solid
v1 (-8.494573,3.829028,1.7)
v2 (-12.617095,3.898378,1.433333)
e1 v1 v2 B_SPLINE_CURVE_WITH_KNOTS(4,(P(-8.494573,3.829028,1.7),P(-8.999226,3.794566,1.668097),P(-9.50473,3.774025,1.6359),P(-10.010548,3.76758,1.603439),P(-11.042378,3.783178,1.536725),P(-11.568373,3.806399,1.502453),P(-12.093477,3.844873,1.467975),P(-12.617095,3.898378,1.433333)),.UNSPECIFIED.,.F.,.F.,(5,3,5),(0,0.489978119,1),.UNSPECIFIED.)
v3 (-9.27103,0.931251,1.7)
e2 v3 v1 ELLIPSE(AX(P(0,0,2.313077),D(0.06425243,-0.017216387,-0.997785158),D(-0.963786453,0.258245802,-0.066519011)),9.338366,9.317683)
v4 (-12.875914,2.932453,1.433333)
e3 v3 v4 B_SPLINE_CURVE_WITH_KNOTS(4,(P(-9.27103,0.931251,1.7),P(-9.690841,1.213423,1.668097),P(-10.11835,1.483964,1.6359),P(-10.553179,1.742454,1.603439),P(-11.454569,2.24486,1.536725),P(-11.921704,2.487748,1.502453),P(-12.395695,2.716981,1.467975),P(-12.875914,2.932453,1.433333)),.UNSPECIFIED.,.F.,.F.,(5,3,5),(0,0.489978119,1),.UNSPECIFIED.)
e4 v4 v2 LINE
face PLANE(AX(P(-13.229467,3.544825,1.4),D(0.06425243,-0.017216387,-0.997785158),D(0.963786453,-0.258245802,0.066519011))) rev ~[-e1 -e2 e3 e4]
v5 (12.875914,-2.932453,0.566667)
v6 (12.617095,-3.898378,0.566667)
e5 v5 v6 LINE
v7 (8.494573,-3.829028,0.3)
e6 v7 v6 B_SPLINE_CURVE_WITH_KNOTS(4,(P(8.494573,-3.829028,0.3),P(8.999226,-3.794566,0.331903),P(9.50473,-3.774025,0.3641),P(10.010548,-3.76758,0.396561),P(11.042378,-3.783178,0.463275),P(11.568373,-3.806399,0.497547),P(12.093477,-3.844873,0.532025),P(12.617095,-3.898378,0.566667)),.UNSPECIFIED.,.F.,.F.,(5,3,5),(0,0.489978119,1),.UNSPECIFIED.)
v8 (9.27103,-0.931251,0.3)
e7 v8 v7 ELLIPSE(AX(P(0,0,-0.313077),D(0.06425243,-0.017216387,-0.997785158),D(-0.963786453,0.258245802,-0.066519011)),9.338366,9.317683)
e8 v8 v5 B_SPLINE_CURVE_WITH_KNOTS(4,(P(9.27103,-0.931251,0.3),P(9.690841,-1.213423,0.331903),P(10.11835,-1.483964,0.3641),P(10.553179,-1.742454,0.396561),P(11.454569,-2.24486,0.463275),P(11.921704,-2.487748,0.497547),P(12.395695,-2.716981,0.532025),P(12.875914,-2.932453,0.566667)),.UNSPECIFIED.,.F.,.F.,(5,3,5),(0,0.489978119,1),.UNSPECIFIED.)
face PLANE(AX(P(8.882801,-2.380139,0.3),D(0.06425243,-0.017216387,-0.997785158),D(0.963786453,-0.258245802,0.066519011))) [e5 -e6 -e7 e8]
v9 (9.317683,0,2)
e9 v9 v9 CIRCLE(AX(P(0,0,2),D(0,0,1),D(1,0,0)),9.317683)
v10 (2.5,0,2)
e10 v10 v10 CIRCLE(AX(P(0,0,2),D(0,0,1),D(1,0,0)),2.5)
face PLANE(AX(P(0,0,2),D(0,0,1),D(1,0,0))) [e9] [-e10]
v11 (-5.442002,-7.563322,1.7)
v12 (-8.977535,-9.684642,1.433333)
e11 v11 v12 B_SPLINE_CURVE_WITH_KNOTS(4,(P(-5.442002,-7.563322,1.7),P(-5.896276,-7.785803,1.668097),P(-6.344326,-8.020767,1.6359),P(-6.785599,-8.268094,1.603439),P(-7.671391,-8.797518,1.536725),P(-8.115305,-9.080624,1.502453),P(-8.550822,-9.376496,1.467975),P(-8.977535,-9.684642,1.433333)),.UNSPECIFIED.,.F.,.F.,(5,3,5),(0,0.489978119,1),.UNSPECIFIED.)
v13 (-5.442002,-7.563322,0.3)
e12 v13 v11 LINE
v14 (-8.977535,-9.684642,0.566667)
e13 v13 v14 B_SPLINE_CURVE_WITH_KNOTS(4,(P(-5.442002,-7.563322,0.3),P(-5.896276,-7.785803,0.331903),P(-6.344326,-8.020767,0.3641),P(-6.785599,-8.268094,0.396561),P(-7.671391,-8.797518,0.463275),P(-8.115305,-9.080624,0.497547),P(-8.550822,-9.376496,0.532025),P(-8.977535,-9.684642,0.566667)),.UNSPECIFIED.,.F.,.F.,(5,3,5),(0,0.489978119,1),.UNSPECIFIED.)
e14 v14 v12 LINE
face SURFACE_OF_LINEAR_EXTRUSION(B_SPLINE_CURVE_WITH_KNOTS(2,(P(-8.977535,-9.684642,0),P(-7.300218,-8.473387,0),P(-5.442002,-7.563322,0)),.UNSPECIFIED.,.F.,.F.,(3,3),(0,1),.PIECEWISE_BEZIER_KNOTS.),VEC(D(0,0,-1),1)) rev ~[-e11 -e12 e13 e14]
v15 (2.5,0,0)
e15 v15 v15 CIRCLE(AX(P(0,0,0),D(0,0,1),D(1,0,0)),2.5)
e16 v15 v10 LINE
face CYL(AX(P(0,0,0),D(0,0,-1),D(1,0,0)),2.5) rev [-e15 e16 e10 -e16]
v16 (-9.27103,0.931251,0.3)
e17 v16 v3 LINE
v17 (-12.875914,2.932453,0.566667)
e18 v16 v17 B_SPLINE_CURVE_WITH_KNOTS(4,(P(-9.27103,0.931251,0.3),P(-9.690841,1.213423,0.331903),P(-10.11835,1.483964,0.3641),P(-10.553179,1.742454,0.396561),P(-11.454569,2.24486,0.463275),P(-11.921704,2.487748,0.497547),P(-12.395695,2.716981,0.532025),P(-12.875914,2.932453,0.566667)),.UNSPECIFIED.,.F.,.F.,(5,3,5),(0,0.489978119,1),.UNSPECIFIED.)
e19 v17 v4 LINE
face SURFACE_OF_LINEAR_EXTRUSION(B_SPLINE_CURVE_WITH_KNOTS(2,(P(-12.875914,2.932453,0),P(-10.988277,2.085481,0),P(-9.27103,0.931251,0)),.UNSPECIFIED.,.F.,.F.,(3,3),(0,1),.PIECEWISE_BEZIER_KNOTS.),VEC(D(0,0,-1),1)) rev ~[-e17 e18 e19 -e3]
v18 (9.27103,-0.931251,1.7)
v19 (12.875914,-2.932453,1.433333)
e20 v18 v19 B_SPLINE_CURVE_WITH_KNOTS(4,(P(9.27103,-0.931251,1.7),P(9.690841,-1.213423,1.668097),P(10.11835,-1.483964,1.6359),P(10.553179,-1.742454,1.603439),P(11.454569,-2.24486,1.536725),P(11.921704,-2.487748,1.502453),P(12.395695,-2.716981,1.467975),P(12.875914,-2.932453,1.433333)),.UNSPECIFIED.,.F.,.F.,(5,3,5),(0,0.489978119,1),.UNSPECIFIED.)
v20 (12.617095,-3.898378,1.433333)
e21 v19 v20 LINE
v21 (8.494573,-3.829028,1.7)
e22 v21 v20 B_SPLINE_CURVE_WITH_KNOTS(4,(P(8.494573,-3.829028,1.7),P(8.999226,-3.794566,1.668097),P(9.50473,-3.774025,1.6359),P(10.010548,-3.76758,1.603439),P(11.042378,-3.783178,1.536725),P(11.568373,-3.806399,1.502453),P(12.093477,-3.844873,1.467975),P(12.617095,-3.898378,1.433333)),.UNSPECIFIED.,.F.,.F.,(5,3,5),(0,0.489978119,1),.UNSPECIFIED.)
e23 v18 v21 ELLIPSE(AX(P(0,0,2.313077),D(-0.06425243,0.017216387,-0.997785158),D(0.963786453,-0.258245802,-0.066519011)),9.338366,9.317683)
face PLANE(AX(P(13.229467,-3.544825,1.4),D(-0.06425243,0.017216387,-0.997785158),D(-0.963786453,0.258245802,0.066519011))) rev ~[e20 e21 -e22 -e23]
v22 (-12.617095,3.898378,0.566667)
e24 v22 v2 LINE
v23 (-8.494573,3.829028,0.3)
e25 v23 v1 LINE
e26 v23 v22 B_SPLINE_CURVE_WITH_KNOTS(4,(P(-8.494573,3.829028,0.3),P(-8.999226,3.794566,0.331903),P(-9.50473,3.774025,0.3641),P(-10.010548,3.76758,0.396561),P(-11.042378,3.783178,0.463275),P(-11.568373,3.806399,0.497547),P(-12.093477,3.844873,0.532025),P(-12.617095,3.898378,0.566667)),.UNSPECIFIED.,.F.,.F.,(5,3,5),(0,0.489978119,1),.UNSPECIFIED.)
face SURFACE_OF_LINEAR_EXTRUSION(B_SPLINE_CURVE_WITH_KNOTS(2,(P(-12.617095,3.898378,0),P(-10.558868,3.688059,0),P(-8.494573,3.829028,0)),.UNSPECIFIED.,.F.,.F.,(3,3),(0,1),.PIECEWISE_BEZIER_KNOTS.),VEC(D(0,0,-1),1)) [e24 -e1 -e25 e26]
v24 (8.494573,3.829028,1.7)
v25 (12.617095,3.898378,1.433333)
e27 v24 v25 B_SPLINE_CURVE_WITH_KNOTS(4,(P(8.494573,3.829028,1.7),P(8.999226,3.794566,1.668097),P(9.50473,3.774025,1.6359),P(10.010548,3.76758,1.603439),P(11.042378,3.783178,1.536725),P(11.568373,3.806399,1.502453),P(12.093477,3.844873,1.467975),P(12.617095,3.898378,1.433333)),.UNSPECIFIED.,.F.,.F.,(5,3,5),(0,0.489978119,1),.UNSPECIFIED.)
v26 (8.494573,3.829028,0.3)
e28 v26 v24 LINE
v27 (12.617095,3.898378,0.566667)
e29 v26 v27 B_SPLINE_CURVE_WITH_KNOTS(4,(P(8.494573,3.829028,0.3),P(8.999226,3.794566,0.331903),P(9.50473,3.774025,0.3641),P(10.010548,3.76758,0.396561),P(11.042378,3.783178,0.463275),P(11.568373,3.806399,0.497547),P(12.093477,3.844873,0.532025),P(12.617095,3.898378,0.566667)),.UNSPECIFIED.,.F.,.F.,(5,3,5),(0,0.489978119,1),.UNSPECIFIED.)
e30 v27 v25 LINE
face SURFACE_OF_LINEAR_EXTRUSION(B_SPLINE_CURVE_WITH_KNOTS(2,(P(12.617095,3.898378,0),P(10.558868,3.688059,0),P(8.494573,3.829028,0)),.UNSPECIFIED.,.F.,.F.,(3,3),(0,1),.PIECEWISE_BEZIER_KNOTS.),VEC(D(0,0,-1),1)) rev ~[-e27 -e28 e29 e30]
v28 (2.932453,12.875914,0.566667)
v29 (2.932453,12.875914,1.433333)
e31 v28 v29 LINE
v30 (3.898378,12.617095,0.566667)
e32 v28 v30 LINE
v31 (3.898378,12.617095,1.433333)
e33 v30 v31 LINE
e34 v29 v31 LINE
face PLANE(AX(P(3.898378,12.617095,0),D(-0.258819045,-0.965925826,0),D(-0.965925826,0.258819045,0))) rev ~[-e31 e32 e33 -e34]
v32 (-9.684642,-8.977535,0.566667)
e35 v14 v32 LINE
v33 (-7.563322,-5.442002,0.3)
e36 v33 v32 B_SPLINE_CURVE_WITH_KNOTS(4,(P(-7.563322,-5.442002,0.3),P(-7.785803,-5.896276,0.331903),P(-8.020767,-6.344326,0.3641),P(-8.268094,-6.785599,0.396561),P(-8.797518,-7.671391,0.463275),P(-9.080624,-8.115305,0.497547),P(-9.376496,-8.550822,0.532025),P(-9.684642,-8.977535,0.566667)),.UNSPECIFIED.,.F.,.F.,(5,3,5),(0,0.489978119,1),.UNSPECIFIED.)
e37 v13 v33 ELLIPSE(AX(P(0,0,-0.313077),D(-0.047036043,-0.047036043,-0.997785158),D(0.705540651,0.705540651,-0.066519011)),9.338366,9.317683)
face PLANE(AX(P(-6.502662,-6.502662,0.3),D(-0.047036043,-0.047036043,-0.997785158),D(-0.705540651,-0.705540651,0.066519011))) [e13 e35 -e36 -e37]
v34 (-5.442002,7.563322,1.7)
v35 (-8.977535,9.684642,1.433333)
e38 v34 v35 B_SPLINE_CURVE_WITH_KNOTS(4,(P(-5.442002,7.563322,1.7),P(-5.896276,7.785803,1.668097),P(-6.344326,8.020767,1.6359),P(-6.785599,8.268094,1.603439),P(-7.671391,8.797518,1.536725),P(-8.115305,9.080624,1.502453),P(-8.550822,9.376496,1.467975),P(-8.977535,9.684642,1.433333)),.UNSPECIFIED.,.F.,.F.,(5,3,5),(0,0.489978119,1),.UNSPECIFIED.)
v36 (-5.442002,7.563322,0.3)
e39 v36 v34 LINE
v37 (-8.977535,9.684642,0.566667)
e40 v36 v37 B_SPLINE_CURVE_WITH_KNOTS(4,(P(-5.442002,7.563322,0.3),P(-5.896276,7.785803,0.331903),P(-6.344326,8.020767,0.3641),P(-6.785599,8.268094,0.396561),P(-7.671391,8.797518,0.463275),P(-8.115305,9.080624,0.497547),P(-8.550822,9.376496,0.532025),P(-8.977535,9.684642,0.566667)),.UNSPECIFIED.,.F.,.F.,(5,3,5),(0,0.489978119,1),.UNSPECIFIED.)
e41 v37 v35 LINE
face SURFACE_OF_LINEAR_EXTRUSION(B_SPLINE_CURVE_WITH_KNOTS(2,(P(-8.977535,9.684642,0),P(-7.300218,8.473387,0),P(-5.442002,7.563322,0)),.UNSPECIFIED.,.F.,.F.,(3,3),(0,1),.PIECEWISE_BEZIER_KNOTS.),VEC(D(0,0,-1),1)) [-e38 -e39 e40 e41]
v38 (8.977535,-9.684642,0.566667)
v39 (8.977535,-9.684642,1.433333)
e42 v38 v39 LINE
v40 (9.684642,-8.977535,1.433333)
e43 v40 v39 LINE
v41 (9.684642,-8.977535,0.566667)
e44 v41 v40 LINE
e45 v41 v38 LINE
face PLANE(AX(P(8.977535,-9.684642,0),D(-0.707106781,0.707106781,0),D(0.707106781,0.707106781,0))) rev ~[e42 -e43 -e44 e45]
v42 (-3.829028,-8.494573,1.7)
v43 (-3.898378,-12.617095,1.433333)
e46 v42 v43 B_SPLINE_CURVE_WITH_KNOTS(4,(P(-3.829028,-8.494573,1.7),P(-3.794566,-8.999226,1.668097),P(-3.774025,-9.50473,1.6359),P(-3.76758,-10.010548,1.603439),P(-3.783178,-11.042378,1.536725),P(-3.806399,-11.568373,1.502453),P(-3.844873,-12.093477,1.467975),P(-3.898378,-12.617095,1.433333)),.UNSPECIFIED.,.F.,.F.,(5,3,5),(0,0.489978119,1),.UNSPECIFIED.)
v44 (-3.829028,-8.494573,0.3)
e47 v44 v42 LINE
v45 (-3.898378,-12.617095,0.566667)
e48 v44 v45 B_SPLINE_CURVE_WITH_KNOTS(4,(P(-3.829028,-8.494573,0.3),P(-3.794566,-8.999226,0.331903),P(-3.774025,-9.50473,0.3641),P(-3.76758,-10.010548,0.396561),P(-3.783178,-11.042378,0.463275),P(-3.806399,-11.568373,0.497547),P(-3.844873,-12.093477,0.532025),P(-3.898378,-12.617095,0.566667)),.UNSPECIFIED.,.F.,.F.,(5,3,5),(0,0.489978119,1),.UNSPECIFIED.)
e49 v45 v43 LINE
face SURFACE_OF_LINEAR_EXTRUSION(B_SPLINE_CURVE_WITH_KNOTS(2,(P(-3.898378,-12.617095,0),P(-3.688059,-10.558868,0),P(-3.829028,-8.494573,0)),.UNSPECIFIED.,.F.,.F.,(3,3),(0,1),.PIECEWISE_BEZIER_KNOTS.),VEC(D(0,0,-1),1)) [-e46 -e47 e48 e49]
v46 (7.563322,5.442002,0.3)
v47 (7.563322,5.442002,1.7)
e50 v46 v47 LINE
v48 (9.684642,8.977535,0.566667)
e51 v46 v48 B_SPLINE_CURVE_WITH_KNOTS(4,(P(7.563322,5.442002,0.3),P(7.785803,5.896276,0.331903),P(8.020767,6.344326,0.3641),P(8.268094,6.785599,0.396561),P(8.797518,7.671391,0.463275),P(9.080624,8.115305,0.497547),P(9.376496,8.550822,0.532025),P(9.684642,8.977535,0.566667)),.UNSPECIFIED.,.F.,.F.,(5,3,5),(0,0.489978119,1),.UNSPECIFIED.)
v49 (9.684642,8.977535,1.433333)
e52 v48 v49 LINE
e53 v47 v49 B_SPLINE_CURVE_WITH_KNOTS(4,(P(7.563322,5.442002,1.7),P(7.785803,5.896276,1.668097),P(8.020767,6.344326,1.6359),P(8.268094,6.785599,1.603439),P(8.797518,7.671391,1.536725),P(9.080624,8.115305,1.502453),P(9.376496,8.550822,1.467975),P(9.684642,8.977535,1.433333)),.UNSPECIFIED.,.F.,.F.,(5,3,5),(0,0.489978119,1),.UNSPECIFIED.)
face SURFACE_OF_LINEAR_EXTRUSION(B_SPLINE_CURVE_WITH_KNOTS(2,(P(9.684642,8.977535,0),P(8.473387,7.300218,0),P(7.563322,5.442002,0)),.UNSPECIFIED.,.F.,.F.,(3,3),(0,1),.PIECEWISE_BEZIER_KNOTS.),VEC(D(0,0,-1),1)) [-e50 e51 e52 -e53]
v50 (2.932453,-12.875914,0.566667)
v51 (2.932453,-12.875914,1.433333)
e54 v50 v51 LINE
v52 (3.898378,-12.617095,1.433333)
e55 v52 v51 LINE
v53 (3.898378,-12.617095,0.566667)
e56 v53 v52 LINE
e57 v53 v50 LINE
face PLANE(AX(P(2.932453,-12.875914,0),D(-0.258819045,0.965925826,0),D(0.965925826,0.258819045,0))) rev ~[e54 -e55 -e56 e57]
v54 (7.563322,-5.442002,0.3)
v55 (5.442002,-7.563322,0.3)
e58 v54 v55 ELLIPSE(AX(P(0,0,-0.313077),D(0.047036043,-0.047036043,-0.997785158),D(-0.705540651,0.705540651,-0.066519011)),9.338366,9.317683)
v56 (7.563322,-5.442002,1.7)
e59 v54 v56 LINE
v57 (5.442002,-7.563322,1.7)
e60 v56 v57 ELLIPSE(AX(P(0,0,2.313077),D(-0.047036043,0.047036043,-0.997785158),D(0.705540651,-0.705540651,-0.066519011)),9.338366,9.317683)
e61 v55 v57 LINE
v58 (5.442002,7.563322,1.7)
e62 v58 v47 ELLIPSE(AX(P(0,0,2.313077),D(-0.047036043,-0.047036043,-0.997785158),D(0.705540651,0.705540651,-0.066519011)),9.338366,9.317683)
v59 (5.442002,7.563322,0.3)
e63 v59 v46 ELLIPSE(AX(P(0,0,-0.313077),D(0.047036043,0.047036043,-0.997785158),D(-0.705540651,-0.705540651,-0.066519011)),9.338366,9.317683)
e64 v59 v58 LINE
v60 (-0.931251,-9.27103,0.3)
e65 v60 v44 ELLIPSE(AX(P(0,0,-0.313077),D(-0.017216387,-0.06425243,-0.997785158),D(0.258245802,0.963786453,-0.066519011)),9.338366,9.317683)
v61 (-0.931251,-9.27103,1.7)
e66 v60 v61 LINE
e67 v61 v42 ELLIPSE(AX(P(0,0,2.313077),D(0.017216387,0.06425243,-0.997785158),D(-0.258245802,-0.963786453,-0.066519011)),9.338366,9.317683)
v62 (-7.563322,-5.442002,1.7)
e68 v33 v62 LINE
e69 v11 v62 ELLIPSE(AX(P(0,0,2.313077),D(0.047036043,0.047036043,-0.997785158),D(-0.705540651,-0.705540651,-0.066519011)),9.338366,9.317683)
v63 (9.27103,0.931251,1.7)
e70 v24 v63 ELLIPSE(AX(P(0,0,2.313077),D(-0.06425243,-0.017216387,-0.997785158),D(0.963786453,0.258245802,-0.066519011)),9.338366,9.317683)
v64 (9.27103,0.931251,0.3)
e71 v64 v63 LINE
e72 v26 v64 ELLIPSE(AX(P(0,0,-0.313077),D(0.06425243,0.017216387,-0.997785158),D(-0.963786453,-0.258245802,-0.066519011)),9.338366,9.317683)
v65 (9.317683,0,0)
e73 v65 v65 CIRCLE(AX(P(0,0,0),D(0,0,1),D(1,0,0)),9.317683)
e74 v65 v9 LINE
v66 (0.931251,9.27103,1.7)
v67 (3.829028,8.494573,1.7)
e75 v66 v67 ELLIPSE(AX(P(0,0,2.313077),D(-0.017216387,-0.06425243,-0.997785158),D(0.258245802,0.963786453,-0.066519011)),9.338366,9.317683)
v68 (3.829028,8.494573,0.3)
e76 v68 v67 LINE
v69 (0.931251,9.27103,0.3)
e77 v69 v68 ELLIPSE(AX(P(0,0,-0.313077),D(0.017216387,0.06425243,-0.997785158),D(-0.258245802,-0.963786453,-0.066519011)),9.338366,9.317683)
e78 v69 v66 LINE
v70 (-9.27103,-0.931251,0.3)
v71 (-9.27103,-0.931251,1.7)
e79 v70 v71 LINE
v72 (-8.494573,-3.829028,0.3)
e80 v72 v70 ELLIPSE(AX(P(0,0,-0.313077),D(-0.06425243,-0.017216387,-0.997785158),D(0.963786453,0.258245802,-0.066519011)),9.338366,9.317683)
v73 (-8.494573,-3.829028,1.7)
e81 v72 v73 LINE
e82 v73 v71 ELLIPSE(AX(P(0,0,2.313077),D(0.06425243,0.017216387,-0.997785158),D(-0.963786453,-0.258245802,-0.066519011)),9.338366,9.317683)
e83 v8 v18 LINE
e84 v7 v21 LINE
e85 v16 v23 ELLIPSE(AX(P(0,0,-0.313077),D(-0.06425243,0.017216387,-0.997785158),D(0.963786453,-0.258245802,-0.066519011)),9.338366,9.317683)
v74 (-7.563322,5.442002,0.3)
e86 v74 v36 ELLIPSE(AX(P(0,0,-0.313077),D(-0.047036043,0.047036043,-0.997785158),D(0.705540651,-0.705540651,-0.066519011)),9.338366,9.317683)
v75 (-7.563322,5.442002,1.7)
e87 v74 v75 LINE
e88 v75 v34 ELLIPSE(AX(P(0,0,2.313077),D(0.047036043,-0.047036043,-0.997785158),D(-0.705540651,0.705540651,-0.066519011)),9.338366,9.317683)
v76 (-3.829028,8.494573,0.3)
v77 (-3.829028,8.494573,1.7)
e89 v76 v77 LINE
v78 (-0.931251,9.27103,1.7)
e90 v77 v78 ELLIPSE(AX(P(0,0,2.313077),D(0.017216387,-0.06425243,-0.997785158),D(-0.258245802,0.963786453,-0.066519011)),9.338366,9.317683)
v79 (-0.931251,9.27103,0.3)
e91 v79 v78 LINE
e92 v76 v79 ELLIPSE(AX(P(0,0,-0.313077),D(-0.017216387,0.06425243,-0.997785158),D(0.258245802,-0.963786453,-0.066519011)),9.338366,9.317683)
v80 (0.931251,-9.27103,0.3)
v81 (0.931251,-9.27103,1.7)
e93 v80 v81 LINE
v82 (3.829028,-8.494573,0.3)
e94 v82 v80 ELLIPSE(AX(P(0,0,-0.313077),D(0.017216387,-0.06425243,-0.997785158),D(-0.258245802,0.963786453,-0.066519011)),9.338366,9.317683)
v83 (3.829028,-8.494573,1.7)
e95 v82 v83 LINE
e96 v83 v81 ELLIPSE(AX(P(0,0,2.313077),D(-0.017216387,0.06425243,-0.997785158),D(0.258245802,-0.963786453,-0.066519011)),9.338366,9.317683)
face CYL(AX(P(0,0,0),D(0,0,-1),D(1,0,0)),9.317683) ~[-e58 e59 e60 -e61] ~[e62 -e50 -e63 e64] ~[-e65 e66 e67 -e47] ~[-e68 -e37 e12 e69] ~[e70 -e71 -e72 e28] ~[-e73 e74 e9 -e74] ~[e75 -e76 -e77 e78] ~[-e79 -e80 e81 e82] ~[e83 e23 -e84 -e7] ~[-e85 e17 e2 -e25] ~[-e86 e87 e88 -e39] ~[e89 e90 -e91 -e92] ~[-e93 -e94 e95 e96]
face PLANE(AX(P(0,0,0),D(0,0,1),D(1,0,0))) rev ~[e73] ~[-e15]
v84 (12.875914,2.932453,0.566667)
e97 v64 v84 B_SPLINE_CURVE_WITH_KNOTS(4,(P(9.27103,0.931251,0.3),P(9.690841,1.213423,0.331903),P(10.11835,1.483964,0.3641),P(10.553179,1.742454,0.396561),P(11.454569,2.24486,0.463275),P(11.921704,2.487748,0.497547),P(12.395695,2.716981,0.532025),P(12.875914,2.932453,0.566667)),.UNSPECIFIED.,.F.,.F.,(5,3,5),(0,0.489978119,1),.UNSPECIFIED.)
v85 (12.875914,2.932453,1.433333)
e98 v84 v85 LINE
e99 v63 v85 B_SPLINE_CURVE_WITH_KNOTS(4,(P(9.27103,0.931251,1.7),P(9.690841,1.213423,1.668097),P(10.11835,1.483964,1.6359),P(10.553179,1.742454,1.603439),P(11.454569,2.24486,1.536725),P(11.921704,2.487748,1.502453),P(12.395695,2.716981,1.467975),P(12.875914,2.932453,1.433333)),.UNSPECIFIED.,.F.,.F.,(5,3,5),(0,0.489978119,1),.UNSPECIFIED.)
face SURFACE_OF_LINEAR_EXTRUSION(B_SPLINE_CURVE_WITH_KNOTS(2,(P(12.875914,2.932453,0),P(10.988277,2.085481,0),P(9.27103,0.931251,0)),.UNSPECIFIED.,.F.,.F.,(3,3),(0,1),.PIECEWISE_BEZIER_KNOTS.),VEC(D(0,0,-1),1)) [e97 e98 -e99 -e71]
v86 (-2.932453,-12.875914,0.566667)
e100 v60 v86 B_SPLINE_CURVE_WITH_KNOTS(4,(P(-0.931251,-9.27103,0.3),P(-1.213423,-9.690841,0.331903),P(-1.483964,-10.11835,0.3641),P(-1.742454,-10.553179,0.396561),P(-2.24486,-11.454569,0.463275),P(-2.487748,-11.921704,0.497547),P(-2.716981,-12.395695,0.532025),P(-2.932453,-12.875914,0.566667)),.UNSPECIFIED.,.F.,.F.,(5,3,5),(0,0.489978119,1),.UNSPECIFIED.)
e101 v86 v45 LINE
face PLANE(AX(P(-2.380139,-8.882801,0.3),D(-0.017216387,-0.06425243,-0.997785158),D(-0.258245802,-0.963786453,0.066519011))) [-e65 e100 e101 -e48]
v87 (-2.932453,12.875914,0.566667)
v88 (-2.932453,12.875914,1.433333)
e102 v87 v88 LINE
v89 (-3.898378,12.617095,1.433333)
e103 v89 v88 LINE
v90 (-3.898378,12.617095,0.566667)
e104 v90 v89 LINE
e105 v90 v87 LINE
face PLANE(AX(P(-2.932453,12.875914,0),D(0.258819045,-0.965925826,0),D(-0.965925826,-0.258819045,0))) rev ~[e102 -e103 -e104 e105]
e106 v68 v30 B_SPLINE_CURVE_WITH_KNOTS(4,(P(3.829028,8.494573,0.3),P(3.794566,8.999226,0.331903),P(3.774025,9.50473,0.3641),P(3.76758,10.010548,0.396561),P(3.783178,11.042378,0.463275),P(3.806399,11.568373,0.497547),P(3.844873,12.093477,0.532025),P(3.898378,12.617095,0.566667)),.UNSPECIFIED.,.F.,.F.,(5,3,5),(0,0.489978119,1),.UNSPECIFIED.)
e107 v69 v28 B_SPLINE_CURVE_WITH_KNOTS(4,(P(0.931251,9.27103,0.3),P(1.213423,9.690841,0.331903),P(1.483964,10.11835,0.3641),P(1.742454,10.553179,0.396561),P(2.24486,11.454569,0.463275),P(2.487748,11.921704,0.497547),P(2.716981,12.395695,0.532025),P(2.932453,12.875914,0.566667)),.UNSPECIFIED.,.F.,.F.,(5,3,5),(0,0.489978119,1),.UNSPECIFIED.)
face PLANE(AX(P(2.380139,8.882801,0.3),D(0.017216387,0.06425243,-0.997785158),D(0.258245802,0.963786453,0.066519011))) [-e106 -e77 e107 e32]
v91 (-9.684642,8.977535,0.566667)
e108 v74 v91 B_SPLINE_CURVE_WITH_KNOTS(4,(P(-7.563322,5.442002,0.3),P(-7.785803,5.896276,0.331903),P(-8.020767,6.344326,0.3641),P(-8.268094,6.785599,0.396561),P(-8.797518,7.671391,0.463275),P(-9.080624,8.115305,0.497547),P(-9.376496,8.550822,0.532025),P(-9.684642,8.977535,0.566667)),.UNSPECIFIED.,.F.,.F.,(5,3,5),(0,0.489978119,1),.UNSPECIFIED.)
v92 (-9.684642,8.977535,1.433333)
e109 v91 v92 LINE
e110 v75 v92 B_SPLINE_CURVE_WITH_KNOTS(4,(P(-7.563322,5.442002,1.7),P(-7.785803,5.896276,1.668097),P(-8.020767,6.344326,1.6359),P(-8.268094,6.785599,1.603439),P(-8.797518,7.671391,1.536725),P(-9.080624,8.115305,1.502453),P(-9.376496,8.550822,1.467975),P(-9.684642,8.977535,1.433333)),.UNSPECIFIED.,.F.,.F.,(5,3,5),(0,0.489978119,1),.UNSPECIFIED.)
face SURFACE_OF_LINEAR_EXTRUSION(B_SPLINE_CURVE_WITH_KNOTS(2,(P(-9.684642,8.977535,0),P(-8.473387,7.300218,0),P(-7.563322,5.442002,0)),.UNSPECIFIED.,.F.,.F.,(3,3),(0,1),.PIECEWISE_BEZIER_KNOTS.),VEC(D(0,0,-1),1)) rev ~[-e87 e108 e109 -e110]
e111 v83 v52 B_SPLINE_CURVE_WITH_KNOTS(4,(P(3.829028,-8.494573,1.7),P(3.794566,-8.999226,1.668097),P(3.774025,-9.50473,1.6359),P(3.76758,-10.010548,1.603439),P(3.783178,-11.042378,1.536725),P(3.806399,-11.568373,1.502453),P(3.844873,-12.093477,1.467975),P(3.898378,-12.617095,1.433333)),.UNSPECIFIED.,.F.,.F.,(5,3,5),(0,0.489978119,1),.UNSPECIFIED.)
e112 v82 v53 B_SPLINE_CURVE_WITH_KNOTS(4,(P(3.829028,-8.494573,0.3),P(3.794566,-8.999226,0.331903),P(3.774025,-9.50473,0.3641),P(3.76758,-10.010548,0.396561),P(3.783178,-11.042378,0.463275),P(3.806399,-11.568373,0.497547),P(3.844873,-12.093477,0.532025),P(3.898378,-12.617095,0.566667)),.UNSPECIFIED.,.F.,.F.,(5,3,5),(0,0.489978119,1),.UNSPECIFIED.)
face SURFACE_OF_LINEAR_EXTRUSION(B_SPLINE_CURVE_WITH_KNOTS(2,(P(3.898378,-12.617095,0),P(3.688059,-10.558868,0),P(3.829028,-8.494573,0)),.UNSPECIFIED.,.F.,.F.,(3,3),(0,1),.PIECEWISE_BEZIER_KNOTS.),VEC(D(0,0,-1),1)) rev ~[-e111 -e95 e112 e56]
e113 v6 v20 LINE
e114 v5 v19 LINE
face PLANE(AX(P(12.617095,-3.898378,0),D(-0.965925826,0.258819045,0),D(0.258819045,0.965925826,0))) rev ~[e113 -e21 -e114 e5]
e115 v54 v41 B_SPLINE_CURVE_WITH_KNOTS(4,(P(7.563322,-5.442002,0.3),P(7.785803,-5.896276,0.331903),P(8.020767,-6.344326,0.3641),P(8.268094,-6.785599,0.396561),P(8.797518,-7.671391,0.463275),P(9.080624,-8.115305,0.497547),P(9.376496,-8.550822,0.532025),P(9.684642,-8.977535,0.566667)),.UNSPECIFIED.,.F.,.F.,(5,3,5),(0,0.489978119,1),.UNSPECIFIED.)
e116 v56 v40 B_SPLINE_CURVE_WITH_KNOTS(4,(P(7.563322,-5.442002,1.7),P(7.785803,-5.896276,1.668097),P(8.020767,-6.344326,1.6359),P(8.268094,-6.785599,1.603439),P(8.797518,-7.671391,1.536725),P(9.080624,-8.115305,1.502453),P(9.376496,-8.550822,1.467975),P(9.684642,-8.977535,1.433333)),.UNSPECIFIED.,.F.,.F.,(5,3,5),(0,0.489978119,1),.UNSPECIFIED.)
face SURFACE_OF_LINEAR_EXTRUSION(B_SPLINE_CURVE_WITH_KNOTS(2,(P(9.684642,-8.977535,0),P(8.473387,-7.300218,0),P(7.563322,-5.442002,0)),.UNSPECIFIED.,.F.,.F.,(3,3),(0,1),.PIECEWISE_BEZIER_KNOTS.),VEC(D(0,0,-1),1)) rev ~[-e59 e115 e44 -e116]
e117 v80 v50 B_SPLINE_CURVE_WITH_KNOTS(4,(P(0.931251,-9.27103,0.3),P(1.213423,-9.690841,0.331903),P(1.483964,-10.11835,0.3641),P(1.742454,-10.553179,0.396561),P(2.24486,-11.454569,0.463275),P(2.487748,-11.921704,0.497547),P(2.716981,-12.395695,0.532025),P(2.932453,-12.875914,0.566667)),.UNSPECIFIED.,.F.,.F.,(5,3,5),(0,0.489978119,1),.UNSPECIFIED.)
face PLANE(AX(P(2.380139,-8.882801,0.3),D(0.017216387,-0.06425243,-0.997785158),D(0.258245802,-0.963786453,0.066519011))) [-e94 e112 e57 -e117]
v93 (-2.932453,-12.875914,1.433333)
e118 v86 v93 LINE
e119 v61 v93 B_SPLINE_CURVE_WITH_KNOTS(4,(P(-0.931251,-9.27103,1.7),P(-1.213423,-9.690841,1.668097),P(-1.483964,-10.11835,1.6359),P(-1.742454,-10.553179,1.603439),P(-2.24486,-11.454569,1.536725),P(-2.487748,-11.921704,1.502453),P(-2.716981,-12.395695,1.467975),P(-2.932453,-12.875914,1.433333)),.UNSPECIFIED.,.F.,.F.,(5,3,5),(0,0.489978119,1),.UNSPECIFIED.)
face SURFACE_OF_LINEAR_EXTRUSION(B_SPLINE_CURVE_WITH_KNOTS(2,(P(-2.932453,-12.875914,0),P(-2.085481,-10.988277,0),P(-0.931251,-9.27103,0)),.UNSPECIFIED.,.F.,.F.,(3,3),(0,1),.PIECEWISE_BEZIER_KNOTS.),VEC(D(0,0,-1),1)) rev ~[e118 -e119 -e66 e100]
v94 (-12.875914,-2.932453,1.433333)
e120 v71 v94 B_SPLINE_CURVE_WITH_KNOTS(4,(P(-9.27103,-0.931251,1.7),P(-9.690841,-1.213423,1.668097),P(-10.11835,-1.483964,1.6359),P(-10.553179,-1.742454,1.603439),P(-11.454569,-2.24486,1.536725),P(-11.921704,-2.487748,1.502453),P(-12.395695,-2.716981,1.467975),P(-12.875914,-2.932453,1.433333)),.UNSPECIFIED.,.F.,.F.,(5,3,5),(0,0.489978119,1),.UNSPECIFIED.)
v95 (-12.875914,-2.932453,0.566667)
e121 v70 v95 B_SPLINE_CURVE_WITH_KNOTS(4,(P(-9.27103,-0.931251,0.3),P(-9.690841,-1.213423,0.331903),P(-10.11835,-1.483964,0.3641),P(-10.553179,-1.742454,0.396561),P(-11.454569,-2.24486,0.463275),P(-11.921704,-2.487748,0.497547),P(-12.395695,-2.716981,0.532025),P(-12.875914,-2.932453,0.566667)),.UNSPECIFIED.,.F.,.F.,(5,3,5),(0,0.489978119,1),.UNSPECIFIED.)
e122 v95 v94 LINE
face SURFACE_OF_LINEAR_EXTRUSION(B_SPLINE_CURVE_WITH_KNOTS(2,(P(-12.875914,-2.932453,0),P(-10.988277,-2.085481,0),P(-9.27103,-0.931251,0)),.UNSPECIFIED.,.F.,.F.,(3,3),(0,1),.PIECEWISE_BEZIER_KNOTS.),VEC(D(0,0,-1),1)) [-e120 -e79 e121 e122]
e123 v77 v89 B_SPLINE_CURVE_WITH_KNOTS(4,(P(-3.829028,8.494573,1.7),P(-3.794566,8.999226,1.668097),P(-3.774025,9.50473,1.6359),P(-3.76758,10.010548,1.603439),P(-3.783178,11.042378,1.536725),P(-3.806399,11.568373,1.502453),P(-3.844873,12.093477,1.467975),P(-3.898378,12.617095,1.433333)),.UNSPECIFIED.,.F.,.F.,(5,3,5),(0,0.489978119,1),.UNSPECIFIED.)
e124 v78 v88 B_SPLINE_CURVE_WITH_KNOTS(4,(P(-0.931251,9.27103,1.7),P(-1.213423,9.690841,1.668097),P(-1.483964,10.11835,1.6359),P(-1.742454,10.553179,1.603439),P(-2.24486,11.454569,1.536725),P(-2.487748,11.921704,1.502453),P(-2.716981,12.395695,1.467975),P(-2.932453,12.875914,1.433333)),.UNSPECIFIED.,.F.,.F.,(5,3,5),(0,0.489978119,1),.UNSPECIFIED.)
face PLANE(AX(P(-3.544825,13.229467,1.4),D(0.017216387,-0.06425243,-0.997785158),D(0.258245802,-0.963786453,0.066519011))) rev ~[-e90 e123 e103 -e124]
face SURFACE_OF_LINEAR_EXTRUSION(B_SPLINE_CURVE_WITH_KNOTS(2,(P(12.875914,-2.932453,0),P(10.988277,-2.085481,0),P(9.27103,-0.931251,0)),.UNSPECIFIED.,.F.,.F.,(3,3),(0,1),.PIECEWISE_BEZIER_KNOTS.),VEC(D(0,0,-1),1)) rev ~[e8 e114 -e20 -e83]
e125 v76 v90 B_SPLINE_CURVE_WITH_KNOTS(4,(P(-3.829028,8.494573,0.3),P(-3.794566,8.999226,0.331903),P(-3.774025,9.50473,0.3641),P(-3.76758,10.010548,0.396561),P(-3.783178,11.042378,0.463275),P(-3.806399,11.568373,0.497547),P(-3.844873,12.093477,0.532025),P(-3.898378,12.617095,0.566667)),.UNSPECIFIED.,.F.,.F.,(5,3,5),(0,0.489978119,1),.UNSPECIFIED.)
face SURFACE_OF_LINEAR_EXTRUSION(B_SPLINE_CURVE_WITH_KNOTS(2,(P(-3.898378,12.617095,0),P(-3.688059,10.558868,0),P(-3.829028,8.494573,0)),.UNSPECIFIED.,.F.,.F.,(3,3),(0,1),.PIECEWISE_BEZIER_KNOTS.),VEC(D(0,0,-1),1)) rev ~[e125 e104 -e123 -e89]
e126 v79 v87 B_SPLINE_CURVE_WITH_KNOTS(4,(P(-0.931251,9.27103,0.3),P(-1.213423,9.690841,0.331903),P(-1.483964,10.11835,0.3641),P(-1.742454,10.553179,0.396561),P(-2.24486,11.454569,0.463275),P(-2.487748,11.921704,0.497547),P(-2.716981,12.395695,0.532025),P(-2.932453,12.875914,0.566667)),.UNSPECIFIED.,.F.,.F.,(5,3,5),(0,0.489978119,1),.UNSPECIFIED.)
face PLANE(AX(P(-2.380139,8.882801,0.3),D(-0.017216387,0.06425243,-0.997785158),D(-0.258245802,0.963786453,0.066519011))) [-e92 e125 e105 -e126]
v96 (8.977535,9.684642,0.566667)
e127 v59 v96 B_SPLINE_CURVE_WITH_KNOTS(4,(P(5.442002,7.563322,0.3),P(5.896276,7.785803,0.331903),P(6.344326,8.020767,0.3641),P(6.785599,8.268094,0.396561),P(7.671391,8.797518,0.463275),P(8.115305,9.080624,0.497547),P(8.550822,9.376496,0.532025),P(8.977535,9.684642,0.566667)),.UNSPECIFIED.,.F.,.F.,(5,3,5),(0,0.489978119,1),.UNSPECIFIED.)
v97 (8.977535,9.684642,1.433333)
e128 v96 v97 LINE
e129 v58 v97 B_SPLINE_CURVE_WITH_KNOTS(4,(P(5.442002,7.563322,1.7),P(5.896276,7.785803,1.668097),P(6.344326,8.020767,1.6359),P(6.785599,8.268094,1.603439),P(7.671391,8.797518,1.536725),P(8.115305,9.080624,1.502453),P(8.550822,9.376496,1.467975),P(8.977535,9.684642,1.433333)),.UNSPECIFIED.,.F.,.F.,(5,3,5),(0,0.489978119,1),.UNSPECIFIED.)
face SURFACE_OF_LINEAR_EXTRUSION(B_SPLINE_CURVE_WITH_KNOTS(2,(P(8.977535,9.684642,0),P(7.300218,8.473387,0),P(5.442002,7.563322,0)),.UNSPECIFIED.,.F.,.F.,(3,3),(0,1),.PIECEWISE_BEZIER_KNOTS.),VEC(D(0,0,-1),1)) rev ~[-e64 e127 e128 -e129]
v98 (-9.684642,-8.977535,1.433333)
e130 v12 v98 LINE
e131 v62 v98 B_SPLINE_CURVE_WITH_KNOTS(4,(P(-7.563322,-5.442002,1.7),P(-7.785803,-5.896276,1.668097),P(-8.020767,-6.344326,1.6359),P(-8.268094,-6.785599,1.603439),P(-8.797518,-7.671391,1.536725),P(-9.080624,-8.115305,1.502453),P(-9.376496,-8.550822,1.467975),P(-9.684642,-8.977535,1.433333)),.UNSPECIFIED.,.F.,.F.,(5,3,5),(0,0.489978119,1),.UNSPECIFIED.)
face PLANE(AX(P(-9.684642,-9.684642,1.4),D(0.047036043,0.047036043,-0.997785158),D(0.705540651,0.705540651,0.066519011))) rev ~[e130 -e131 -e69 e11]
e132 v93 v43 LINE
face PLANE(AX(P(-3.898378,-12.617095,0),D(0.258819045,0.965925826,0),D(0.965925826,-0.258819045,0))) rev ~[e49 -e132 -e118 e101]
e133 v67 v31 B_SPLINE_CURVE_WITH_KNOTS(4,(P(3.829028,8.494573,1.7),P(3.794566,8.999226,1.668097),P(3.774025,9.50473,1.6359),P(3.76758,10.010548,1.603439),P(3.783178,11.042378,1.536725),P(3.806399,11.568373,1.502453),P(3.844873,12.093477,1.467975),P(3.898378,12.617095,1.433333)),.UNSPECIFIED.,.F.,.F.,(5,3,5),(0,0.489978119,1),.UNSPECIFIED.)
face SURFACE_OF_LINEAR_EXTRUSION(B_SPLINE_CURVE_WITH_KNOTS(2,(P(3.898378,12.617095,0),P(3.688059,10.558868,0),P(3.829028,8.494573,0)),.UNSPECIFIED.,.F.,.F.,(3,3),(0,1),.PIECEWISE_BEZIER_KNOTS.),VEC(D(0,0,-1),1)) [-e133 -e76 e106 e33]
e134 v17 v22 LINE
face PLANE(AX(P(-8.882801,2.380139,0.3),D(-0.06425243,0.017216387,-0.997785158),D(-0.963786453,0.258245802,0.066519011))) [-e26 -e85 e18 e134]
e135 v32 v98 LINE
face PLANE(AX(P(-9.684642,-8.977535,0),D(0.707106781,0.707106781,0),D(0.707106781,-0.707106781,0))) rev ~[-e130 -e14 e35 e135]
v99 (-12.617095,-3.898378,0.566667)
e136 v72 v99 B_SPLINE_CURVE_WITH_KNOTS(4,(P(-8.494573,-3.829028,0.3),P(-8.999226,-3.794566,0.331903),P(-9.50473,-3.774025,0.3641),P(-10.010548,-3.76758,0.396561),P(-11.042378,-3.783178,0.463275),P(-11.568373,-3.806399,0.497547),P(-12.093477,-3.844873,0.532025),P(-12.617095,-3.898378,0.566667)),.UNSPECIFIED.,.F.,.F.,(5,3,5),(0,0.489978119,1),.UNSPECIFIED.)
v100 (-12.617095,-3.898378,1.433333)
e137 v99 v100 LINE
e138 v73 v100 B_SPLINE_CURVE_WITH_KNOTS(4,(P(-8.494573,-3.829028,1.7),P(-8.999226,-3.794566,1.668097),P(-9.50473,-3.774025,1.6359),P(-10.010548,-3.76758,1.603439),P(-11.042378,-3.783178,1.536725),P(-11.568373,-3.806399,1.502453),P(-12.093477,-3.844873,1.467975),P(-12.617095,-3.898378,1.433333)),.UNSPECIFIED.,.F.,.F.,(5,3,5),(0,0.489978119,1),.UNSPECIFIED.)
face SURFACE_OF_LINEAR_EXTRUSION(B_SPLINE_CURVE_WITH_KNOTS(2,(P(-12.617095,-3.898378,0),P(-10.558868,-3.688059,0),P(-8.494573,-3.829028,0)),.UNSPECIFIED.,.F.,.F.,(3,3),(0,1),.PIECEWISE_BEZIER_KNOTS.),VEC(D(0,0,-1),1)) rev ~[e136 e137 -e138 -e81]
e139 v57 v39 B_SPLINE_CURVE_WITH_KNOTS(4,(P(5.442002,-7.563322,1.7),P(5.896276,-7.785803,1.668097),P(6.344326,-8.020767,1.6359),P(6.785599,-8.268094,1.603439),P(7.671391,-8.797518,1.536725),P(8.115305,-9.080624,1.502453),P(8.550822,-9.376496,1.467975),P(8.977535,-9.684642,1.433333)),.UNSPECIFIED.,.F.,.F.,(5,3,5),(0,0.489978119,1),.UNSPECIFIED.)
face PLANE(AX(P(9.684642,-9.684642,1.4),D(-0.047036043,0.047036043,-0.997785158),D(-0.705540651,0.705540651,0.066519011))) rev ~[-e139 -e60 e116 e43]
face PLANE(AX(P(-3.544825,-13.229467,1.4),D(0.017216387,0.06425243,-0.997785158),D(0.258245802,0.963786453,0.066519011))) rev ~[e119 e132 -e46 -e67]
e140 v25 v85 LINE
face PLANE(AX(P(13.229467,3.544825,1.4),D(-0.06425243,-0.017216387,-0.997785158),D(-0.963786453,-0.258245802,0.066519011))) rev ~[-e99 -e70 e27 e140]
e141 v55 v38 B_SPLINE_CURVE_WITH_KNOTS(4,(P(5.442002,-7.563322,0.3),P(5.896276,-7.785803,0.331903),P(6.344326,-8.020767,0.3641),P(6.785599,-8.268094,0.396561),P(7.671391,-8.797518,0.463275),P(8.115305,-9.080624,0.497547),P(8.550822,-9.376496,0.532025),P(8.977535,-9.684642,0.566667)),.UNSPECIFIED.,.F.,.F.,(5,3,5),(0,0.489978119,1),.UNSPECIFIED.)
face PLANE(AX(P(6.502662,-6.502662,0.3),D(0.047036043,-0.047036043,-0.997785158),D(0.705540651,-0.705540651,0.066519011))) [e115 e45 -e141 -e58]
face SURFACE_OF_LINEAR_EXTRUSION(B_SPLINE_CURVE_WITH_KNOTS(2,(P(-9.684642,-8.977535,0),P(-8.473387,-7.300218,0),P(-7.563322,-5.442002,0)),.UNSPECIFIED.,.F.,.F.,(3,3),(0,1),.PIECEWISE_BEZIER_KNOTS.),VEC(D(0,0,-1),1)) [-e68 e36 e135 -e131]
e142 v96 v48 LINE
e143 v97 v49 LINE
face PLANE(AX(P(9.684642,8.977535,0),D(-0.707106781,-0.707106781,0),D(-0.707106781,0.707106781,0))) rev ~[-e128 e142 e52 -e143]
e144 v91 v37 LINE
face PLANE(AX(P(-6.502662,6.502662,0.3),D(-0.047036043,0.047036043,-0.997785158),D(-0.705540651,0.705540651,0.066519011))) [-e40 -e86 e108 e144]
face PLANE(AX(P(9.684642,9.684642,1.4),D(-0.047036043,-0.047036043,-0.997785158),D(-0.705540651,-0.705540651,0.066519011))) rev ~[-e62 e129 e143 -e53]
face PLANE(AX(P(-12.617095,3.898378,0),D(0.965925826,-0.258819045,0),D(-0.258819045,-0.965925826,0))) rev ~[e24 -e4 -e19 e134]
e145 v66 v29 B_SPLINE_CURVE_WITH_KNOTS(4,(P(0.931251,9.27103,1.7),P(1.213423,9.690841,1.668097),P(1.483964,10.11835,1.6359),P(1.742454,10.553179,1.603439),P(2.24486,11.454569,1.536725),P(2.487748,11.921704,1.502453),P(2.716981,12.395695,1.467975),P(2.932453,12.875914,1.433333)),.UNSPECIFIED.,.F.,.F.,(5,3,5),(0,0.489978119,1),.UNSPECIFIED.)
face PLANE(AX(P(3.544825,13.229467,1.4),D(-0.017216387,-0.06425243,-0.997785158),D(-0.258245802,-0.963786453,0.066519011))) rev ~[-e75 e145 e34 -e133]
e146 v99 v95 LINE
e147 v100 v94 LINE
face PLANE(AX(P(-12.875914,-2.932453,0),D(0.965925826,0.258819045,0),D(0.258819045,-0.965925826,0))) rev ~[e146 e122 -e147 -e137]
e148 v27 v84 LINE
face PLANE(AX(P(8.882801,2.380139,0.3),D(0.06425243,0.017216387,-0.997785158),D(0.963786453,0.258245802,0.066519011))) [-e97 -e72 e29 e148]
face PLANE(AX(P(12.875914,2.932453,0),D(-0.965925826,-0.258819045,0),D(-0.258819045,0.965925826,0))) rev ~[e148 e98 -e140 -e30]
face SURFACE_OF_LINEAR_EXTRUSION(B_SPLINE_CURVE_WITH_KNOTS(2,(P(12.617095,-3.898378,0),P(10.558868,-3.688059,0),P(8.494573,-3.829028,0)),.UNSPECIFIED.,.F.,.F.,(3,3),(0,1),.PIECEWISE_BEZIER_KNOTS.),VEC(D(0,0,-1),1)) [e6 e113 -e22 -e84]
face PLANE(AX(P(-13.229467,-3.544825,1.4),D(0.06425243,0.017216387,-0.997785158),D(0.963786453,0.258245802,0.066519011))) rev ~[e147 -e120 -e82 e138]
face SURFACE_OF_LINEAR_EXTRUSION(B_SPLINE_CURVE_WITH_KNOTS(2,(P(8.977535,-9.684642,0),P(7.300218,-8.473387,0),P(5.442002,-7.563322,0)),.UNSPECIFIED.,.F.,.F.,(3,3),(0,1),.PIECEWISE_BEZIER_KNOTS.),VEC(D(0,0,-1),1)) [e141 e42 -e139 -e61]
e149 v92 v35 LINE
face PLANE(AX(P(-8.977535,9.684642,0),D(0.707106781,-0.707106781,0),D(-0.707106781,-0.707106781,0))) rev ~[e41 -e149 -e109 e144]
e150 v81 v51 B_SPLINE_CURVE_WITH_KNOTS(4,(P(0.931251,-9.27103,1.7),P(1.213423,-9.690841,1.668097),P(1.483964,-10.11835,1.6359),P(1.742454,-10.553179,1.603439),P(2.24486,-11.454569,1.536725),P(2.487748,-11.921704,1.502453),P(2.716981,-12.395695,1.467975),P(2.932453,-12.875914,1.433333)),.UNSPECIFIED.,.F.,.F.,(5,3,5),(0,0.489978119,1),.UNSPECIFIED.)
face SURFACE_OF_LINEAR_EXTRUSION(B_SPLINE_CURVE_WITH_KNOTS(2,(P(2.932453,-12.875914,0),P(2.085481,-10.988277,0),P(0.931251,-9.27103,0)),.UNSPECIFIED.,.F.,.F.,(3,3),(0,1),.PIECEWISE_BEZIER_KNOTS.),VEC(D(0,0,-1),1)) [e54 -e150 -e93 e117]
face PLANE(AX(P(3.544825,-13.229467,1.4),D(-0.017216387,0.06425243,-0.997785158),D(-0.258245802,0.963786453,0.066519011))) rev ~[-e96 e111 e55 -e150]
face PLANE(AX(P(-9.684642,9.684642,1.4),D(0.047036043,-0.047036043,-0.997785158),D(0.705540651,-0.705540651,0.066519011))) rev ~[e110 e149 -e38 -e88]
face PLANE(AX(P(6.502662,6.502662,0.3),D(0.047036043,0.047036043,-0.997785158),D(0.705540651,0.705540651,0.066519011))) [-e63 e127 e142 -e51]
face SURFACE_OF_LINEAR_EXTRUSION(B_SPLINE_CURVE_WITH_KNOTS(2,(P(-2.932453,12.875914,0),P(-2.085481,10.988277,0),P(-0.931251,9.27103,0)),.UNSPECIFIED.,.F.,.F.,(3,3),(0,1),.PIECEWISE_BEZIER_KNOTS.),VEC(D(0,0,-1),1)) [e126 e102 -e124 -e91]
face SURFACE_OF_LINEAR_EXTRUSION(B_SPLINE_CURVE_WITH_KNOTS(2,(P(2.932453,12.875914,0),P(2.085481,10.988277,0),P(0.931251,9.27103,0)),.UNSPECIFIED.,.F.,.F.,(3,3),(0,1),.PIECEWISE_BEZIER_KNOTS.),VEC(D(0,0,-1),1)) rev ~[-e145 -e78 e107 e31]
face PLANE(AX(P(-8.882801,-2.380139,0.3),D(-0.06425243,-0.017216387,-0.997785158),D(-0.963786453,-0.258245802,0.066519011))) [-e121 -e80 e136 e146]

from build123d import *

# Parameters (mm, degrees)
BOSS_EXTRUDE1_DEPTH = 2
CUT_EXTRUDE1_DEPTH  = 2
CIRPATTERN1_COUNT   = 12
SKETCH6_R           = 9.317683155
SKETCH6_R_2         = 2.5
BOSS_EXTRUDE2_DEPTH = 2


with BuildPart() as part:
    # Sketch3 → Boss-Extrude1 (new body)
    with BuildSketch(Plane.XY):
        with BuildLine():
            Line((-7.563321911, 5.442001567), (-5.442001567, 7.563321911))
            add(Edge.make_bspline(
                [(-8.977535473, 9.684642254), (-7.300218474, 8.473386816), (-5.442001567, 7.563321911)],
                knots=[0, 0, 0, 1, 1, 1], degree=2))
            Line((-8.977535473, 9.684642254), (-9.684642254, 8.977535473))
            add(Edge.make_bspline(
                [(-9.684642254, 8.977535473), (-8.473386816, 7.300218474), (-7.563321911, 5.442001567)],
                knots=[0, 0, 0, 1, 1, 1], degree=2))
        make_face()
    extrude(amount=BOSS_EXTRUDE1_DEPTH)

    # Sketch4 → Cut-Extrude1 (cut, symmetric)
    with BuildSketch(Plane(origin=(0, 0, 0), x_dir=(0, 0, -1), z_dir=(-0.707106781186548, -0.7071067811865471, 0))):
        Polygon((0, -9.196152423), (-0.3, -9.196152423), (-0.6, -13.696152423), (0, -13.696152423), align=None)
        Polygon((-1.7, -9.196152423), (-2, -9.196152423), (-2, -13.696152423), (-1.4, -13.696152423), align=None)
    extrude(amount=CUT_EXTRUDE1_DEPTH, both=True, mode=Mode.SUBTRACT)


with BuildPart() as cirpattern1_1:
    # CirPattern1: pattern copy
    add(part.part.rotate(Axis((0, 0, 0), (0, 0, -1)), 1 * 360 / CIRPATTERN1_COUNT))


with BuildPart() as cirpattern1_2:
    # CirPattern1: pattern copy
    add(part.part.rotate(Axis((0, 0, 0), (0, 0, -1)), 2 * 360 / CIRPATTERN1_COUNT))


with BuildPart() as cirpattern1_3:
    # CirPattern1: pattern copy
    add(part.part.rotate(Axis((0, 0, 0), (0, 0, -1)), 3 * 360 / CIRPATTERN1_COUNT))


with BuildPart() as cirpattern1_4:
    # CirPattern1: pattern copy
    add(part.part.rotate(Axis((0, 0, 0), (0, 0, -1)), 4 * 360 / CIRPATTERN1_COUNT))


with BuildPart() as cirpattern1_5:
    # CirPattern1: pattern copy
    add(part.part.rotate(Axis((0, 0, 0), (0, 0, -1)), 5 * 360 / CIRPATTERN1_COUNT))


with BuildPart() as cirpattern1_6:
    # CirPattern1: pattern copy
    add(part.part.rotate(Axis((0, 0, 0), (0, 0, -1)), 6 * 360 / CIRPATTERN1_COUNT))


with BuildPart() as cirpattern1_7:
    # CirPattern1: pattern copy
    add(part.part.rotate(Axis((0, 0, 0), (0, 0, -1)), 7 * 360 / CIRPATTERN1_COUNT))


with BuildPart() as cirpattern1_8:
    # CirPattern1: pattern copy
    add(part.part.rotate(Axis((0, 0, 0), (0, 0, -1)), 8 * 360 / CIRPATTERN1_COUNT))


with BuildPart() as cirpattern1_9:
    # CirPattern1: pattern copy
    add(part.part.rotate(Axis((0, 0, 0), (0, 0, -1)), 9 * 360 / CIRPATTERN1_COUNT))


with BuildPart() as cirpattern1_10:
    # CirPattern1: pattern copy
    add(part.part.rotate(Axis((0, 0, 0), (0, 0, -1)), 10 * 360 / CIRPATTERN1_COUNT))


with BuildPart() as cirpattern1_11:
    # CirPattern1: pattern copy
    add(part.part.rotate(Axis((0, 0, 0), (0, 0, -1)), 11 * 360 / CIRPATTERN1_COUNT))


with BuildPart() as part_1:
    add(part.part)

    add(cirpattern1_1.part)  # Boss-Extrude2 merges CirPattern1_1

    add(cirpattern1_2.part)  # Boss-Extrude2 merges CirPattern1_2

    add(cirpattern1_3.part)  # Boss-Extrude2 merges CirPattern1_3

    add(cirpattern1_4.part)  # Boss-Extrude2 merges CirPattern1_4

    add(cirpattern1_5.part)  # Boss-Extrude2 merges CirPattern1_5

    add(cirpattern1_6.part)  # Boss-Extrude2 merges CirPattern1_6

    add(cirpattern1_7.part)  # Boss-Extrude2 merges CirPattern1_7

    add(cirpattern1_8.part)  # Boss-Extrude2 merges CirPattern1_8

    add(cirpattern1_9.part)  # Boss-Extrude2 merges CirPattern1_9

    add(cirpattern1_10.part)  # Boss-Extrude2 merges CirPattern1_10

    add(cirpattern1_11.part)  # Boss-Extrude2 merges CirPattern1_11
    # Sketch6 → Boss-Extrude2 (add)
    with BuildSketch(Plane.XY):
        Circle(SKETCH6_R)
        Circle(SKETCH6_R_2, mode=Mode.SUBTRACT)
    extrude(amount=BOSS_EXTRUDE2_DEPTH)


solid = part_1.part
